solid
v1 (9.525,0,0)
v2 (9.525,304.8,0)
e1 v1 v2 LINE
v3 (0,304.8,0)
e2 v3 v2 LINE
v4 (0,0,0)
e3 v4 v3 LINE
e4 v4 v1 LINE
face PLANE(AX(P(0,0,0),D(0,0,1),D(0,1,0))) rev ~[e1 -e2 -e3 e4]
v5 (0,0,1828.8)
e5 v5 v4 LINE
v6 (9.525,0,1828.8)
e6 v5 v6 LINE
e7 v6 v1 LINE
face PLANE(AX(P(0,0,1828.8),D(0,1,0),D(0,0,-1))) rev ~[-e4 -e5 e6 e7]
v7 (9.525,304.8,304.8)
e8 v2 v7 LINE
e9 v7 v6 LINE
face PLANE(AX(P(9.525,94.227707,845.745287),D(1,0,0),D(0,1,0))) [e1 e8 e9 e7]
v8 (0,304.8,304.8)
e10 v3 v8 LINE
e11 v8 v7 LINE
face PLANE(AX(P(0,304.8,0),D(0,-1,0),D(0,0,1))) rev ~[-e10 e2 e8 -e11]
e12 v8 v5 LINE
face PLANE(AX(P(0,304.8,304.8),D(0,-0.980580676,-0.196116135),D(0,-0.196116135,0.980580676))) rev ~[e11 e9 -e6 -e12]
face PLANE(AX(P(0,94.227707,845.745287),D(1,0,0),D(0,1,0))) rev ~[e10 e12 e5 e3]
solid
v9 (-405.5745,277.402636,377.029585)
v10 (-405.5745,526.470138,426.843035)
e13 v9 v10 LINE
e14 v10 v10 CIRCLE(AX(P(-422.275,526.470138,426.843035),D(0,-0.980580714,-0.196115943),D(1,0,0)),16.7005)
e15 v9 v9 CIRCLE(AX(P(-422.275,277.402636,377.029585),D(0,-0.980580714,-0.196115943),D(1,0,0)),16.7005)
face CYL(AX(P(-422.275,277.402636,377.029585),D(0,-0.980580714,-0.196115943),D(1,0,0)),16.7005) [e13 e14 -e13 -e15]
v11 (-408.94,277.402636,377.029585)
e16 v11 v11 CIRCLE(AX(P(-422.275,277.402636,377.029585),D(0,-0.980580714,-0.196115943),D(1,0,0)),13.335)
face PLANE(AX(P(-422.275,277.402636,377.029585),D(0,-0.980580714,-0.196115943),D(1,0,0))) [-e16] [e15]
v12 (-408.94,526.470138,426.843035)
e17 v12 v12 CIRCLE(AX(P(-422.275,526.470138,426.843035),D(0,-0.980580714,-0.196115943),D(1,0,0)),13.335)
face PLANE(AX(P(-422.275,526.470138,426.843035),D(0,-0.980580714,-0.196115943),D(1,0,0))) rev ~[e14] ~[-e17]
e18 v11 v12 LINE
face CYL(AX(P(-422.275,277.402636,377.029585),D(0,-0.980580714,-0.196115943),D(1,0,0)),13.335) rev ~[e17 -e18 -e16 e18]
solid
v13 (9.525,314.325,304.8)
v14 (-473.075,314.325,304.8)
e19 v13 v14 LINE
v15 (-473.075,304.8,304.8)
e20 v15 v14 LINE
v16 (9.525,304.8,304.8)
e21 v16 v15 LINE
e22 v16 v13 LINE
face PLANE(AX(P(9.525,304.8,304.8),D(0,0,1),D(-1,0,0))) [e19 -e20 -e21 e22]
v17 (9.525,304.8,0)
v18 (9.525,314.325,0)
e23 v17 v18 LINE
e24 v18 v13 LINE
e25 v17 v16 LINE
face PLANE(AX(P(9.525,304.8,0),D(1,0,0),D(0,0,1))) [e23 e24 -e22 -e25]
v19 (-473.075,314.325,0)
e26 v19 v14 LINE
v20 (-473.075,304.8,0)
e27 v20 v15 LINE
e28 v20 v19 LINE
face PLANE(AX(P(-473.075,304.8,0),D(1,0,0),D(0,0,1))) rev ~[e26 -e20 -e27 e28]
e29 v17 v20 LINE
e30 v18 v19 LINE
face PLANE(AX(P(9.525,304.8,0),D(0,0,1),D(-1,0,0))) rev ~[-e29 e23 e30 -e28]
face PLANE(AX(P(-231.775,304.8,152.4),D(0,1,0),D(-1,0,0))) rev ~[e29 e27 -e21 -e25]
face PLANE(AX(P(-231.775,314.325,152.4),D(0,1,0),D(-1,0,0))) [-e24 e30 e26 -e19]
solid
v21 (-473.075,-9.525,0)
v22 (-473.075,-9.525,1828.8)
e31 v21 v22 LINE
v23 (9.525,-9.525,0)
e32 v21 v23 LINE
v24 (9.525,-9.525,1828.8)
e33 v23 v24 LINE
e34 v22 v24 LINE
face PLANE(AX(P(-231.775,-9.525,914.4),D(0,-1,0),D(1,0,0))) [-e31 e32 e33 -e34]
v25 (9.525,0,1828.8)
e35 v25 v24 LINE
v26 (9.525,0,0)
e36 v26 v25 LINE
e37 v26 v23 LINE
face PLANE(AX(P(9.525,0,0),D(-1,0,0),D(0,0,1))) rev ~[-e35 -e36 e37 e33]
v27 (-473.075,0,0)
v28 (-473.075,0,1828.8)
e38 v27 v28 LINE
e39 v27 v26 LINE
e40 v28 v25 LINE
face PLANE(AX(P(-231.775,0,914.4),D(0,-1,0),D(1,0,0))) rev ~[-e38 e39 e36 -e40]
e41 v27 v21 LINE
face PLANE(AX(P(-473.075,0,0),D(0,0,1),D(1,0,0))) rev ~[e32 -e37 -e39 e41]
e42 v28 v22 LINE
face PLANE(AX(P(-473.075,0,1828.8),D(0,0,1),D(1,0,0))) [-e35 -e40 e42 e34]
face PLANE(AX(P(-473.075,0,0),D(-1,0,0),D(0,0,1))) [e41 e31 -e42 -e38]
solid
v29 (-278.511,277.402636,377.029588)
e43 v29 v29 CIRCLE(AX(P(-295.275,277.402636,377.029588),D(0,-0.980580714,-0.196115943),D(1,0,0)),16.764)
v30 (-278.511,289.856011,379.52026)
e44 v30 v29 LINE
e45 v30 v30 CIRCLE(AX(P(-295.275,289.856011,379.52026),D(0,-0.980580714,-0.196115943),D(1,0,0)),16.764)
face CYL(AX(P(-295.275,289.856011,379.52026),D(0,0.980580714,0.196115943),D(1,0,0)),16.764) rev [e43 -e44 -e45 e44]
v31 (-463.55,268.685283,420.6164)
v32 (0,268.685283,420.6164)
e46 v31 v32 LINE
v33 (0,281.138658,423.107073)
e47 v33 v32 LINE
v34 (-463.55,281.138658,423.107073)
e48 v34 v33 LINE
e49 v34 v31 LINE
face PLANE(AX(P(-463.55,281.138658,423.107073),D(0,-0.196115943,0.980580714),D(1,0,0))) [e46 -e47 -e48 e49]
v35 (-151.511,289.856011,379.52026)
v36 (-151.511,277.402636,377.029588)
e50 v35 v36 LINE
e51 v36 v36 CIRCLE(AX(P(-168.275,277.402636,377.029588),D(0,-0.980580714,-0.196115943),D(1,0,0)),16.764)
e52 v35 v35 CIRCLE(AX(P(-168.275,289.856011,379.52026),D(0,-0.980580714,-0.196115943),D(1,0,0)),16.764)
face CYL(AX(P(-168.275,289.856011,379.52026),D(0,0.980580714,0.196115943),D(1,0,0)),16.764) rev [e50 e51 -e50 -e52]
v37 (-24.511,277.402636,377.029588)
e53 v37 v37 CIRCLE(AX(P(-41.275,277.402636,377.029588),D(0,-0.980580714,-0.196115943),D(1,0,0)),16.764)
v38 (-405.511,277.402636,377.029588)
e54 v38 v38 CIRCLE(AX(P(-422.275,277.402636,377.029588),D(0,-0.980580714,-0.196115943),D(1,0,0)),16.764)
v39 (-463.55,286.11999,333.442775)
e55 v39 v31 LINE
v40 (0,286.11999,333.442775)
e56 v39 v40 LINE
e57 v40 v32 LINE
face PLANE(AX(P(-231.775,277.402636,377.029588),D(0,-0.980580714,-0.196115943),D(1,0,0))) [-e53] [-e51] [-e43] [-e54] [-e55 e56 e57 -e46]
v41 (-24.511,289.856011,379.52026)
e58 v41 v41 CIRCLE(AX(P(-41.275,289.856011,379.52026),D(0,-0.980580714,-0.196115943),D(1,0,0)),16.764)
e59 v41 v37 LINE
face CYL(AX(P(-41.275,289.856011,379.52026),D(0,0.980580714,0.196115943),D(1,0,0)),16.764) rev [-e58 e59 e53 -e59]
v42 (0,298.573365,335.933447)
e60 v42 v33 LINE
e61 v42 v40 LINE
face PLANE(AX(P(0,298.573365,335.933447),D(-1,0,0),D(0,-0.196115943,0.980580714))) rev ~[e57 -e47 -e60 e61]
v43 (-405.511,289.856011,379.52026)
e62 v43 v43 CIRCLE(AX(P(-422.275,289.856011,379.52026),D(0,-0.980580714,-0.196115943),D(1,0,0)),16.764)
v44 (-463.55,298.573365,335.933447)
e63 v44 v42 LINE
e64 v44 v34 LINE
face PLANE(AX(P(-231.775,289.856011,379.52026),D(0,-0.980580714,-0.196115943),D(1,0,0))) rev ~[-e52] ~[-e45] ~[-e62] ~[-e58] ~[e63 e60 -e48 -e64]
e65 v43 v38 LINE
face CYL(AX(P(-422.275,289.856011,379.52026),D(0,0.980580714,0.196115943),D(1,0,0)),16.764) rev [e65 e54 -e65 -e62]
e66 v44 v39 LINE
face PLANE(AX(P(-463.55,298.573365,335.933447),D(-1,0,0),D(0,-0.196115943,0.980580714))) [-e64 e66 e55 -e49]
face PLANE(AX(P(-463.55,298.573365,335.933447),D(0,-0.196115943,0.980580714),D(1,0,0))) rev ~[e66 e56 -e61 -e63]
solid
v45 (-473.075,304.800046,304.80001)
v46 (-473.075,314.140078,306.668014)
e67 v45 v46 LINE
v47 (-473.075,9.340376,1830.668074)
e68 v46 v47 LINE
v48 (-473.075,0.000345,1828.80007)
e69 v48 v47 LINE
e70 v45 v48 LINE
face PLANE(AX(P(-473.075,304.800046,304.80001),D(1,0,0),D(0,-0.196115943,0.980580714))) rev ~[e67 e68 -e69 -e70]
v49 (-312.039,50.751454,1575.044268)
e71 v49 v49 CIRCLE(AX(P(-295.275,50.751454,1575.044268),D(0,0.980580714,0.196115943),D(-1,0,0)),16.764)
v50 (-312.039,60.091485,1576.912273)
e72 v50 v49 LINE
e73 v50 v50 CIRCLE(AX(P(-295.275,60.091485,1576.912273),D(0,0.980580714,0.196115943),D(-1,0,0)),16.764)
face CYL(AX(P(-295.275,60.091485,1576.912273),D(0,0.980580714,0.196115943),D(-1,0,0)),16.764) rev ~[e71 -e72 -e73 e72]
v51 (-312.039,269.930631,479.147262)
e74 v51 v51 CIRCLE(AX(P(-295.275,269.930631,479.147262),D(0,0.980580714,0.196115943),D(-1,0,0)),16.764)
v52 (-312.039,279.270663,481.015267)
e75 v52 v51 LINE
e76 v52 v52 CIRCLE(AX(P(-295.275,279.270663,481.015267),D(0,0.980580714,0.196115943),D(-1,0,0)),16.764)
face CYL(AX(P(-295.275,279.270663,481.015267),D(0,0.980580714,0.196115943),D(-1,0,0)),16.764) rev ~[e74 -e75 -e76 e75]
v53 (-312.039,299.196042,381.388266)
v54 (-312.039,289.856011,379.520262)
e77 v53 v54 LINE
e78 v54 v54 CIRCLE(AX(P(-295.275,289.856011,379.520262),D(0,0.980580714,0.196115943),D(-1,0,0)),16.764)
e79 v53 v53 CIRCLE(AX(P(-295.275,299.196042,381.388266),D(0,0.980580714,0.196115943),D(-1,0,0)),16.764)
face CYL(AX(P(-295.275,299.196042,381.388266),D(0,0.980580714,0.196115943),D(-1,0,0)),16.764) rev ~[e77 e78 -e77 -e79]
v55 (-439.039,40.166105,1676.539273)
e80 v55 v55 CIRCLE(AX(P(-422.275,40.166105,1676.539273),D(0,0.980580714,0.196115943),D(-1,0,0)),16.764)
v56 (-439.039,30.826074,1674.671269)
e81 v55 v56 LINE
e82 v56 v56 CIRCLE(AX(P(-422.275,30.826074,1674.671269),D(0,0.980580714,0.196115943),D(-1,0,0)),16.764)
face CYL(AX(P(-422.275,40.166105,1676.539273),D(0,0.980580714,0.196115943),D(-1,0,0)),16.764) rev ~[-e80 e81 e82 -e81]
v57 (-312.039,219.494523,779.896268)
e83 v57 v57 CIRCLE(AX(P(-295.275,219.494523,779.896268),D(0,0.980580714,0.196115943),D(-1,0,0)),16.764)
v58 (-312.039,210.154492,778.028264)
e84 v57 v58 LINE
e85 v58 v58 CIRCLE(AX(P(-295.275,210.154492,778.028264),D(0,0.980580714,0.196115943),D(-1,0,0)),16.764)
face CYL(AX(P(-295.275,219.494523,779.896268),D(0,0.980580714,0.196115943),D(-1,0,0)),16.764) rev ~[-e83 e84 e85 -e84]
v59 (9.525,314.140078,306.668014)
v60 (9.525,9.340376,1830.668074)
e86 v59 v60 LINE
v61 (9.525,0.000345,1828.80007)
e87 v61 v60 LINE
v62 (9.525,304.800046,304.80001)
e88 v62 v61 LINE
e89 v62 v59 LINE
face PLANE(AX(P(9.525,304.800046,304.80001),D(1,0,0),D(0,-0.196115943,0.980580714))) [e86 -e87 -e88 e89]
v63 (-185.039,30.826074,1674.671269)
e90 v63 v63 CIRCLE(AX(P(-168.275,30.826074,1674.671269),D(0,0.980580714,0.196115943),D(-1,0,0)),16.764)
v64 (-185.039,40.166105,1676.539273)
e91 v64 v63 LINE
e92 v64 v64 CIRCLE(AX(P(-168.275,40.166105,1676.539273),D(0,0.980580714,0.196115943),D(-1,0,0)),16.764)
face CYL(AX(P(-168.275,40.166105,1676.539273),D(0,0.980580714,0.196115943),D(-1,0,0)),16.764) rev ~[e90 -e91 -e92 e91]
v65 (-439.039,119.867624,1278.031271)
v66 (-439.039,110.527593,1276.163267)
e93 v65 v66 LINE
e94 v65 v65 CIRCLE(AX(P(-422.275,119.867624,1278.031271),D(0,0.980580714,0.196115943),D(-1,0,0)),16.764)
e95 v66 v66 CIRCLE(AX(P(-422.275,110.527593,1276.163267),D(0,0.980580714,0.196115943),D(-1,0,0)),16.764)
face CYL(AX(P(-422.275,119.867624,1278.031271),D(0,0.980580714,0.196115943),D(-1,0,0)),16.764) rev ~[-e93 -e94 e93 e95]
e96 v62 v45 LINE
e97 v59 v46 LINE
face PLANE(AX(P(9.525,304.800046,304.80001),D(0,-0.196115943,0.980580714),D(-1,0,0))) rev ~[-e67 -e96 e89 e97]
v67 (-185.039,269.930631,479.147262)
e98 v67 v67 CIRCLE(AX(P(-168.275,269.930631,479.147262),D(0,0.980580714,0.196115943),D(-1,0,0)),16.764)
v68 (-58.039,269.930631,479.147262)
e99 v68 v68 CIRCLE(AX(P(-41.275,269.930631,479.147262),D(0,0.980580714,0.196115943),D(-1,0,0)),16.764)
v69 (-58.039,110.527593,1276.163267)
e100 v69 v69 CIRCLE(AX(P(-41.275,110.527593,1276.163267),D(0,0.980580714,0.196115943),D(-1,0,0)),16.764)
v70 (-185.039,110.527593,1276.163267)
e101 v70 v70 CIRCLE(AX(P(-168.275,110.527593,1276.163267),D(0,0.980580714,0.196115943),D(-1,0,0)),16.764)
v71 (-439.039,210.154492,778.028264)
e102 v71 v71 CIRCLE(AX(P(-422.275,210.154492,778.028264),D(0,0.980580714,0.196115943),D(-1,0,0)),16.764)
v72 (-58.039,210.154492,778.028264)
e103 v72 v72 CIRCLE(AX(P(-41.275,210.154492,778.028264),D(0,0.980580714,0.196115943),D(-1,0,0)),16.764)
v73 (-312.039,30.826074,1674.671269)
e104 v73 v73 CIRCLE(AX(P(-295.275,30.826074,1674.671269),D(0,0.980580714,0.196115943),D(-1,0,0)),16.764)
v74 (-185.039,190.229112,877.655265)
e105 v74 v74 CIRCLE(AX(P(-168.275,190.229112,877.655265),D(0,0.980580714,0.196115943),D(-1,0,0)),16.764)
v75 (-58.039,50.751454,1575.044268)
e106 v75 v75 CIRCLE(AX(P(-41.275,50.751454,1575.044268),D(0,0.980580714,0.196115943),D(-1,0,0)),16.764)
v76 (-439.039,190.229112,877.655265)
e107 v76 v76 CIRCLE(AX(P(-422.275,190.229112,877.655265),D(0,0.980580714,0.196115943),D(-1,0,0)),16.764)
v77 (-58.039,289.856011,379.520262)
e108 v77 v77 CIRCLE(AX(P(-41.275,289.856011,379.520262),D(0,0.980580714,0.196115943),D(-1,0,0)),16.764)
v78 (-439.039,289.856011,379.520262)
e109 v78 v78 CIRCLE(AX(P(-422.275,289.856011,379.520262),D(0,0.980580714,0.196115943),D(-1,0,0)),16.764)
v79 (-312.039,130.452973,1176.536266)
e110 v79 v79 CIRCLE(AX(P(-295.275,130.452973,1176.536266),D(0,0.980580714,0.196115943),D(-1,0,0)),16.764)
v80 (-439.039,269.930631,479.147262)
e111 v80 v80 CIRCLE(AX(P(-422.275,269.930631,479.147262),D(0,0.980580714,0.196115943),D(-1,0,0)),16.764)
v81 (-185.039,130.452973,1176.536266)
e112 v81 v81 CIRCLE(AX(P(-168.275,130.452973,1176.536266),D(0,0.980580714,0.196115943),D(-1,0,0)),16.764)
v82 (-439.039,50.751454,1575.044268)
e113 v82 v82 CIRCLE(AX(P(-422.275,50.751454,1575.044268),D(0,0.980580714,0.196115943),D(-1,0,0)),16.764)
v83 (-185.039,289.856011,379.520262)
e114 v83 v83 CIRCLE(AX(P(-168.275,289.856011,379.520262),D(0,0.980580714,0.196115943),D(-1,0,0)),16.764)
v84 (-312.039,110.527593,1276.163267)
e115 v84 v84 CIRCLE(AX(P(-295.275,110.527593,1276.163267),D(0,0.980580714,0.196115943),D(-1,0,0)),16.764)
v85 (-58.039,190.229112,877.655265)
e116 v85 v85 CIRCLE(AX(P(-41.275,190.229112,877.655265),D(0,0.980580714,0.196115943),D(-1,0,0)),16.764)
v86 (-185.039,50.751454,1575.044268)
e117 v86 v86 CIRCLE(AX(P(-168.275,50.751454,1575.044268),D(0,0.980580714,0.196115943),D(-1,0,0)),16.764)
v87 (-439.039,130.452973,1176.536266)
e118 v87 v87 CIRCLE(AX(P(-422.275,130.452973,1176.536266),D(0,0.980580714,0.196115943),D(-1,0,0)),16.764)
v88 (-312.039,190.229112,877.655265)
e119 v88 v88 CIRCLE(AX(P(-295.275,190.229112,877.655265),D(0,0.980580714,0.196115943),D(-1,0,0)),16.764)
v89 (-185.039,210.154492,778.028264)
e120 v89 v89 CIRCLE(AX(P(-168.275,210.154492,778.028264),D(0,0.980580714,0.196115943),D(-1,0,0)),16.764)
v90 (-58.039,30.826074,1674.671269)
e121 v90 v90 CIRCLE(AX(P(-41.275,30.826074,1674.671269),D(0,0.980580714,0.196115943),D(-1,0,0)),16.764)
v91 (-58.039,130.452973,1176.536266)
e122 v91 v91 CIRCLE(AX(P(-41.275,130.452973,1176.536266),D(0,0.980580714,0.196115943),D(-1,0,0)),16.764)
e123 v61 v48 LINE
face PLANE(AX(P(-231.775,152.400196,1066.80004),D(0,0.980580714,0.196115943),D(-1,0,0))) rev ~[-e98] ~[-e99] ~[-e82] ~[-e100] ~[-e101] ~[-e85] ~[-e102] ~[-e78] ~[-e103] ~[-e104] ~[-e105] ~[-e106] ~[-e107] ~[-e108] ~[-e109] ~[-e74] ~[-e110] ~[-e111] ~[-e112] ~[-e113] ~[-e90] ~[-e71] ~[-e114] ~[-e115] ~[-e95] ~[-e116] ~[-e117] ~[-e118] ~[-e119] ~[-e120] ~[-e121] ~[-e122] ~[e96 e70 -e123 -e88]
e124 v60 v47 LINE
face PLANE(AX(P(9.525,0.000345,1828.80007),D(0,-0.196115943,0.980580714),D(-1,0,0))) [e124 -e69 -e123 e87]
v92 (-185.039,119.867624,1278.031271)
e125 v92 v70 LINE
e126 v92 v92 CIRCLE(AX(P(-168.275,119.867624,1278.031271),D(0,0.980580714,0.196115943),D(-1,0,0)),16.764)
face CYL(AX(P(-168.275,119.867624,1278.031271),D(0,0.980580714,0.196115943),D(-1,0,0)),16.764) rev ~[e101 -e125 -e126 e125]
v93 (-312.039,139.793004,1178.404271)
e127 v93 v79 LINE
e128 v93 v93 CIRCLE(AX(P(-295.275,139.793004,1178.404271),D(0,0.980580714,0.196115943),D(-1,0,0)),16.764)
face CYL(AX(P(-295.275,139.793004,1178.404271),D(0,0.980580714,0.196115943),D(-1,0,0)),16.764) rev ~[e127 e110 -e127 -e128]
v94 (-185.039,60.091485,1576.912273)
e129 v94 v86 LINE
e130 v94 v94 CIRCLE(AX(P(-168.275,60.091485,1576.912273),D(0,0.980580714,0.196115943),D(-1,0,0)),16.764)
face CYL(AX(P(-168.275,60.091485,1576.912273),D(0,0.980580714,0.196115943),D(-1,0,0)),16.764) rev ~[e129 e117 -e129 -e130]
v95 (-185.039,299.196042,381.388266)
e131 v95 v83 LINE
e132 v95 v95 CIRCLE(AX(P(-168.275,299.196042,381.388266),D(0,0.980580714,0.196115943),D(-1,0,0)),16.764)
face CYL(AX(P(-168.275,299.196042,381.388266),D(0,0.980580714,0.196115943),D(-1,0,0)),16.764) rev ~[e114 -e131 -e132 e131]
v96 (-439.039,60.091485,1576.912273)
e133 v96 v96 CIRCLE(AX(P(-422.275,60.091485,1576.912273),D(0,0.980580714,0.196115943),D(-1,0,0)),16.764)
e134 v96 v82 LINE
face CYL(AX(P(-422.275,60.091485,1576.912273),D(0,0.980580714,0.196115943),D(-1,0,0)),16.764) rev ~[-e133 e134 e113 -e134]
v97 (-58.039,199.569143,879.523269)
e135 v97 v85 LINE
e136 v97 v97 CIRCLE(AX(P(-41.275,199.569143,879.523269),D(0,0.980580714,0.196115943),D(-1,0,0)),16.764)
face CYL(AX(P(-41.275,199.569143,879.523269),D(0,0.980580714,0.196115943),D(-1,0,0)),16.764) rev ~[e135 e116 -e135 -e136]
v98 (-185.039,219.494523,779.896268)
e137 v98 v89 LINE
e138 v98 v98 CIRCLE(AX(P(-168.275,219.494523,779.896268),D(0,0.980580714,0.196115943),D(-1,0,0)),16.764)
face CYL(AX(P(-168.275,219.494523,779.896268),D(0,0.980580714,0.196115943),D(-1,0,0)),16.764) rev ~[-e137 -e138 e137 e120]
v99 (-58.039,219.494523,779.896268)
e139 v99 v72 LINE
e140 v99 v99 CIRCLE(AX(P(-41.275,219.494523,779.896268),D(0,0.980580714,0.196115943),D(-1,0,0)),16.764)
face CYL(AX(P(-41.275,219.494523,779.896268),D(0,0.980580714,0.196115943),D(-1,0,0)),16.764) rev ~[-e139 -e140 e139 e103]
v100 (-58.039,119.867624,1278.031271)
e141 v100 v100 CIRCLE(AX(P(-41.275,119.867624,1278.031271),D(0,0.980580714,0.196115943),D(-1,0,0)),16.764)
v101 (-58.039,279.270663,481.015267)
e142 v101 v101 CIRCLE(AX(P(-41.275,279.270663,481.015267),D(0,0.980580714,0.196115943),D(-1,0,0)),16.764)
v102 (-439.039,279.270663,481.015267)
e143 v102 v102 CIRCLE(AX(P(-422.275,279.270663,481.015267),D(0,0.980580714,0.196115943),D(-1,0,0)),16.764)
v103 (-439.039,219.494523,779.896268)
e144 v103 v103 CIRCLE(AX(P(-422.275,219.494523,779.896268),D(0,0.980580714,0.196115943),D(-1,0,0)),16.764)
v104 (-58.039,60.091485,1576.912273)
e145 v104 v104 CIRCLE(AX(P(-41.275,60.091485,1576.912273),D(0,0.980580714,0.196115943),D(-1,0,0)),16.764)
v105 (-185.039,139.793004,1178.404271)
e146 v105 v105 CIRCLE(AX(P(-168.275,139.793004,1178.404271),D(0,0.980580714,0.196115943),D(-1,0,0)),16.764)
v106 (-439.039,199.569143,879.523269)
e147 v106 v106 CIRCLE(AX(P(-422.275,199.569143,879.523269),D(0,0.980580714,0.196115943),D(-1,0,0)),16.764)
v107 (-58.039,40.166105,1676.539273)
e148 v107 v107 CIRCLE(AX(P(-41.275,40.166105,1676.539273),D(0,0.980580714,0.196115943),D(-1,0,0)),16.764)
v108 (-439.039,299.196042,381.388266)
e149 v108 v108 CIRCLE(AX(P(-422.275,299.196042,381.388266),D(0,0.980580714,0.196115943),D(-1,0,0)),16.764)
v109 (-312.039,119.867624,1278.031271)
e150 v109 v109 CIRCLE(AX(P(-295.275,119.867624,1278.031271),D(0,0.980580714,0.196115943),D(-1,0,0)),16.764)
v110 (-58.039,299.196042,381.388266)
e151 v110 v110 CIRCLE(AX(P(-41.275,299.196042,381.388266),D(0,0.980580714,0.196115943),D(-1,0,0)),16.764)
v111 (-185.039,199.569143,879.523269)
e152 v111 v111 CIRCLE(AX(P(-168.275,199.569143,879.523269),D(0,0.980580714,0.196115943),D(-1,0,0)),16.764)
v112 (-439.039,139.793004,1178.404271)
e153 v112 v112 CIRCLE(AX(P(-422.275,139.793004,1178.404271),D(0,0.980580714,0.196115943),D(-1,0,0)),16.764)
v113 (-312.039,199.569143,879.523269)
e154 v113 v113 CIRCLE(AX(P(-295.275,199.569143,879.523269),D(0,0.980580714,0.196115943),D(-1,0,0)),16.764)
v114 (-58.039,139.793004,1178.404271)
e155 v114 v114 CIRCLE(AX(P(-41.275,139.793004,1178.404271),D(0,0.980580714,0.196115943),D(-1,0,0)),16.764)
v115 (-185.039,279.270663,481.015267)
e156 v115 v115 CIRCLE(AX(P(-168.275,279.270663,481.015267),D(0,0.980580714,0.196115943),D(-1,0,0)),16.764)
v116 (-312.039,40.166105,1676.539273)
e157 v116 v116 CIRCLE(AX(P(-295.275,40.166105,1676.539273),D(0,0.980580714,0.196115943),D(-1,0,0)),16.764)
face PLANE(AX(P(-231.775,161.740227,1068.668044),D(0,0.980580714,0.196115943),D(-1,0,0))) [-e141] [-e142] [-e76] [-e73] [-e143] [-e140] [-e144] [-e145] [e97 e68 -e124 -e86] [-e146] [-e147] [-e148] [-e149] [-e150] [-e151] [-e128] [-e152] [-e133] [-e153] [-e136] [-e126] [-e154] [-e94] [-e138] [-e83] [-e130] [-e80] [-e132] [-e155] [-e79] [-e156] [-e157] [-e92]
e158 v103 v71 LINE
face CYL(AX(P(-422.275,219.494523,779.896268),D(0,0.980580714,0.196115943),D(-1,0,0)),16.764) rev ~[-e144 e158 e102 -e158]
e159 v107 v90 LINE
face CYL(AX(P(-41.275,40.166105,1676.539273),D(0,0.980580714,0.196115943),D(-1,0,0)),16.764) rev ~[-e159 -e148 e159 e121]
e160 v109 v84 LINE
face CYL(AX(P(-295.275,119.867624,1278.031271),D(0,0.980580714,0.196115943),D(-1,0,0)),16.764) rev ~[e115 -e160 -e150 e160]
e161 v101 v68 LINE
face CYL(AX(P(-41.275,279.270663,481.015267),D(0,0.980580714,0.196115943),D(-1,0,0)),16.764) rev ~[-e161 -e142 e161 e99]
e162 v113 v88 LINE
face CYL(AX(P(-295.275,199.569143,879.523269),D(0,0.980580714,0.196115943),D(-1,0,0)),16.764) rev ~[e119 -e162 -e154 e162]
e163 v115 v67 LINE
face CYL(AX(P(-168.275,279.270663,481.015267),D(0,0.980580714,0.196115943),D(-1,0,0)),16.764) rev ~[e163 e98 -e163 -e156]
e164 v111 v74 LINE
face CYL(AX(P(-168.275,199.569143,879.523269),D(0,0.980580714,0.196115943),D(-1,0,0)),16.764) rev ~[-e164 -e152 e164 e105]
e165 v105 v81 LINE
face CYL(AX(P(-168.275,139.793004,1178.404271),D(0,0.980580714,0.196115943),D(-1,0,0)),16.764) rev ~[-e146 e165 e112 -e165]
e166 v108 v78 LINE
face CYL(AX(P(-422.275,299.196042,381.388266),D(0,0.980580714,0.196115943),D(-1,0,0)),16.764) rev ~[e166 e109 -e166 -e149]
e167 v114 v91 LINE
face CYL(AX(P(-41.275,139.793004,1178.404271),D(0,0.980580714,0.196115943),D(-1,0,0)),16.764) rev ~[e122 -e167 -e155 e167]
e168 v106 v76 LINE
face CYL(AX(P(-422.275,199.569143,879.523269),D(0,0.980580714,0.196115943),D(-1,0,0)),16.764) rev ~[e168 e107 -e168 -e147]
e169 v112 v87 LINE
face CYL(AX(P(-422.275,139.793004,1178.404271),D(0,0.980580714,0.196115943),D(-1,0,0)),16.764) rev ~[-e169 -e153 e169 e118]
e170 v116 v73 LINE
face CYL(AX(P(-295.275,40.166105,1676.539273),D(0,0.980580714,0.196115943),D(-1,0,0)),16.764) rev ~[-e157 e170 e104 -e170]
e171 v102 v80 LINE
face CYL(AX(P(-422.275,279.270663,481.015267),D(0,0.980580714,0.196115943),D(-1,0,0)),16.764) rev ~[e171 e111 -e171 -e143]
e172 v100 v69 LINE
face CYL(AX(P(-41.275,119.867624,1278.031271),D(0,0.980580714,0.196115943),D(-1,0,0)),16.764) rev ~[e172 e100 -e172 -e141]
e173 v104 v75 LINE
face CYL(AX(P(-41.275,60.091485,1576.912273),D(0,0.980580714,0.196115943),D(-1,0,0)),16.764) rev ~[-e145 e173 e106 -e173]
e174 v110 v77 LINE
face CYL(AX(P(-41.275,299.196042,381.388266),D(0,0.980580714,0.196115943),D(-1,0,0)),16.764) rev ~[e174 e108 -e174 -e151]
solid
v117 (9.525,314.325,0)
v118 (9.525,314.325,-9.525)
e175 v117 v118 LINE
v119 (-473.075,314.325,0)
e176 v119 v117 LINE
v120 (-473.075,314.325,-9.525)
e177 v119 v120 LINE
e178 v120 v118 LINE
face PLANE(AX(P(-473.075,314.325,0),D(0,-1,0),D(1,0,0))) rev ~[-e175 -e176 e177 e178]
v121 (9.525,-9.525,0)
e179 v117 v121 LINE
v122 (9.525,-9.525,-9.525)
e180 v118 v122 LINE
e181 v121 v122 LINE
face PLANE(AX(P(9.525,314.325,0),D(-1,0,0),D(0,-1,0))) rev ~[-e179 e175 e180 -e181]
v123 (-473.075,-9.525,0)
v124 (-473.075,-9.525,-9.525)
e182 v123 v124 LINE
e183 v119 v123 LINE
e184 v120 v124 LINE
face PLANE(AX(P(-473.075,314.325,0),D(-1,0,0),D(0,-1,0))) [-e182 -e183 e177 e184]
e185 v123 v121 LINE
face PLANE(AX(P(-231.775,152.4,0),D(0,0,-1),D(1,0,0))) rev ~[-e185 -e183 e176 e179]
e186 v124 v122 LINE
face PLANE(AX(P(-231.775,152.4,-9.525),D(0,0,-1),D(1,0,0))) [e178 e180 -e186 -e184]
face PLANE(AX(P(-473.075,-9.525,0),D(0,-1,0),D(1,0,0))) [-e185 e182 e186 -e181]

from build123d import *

# Parameters (mm, degrees)
F1_DEPTH  = 9.525
F2_W      = 482.6
F2_H      = 304.8
F3_DEPTH  = 9.525
F4_W      = 482.6
F4_H      = 1554.181148
F5_DEPTH  = 9.525
F6_W      = 482.6
F6_H      = 1828.8
F7_DEPTH  = 9.525
F8_W      = 482.6
F8_H      = 323.85
F9_DEPTH  = 9.525
F10_R     = 16.764
F11_DEPTH = 12.7
F12_W     = 463.55
F12_H     = 88.9
F12_R     = 16.764
F13_DEPTH = 12.7
F14_R     = 16.7005
F14_R_2   = 13.335
F15_DEPTH = 254


with BuildPart() as f1:
    # F0 (on Right) → F1 (new body)
    with BuildSketch(Plane.YZ):
        Polygon((0, 1828.8), (0, 0), (304.8, 0), (304.8, 304.8), align=None)
    extrude(amount=F1_DEPTH)


with BuildPart() as f3:
    # F2 (on face) → F3 (new body)
    with BuildSketch(Plane(origin=(0, 304.8, 0), x_dir=(-1, 0, 0), z_dir=(0, 1, 0))):
        with Locations((231.775, 152.4)):
            Rectangle(F2_W, F2_H)
    extrude(amount=F3_DEPTH)


with BuildPart() as f5:
    # F4 (on face) → F5 (new body)
    with BuildSketch(Plane(origin=(0, 351.692308, 70.338462), x_dir=(-1, 0, 0), z_dir=(0, 0.980581, 0.196116))):
        with Locations((231.775, 1016.195366)):
            Rectangle(F4_W, F4_H)
    extrude(amount=F5_DEPTH)

    # F10 (on face) → F11 (cut)
    with BuildSketch(Plane(origin=(0, 361.032339, 72.206468), x_dir=(-1, 0, 0), z_dir=(0, 0.980581, 0.196116))):
        with Locations((41.275, 315.304792)):
            Circle(F10_R)
        with Locations((41.275, 416.904792)):
            Circle(F10_R)
        with Locations((168.275, 315.304792)):
            Circle(F10_R)
        with Locations((168.275, 416.904792)):
            Circle(F10_R)
        with Locations((295.275, 315.304792)):
            Circle(F10_R)
        with Locations((295.275, 416.904792)):
            Circle(F10_R)
        with Locations((422.275, 315.304792)):
            Circle(F10_R)
        with Locations((422.275, 416.904792)):
            Circle(F10_R)
        with Locations((422.275, 721.704792)):
            Circle(F10_R)
        with Locations((422.275, 823.304792)):
            Circle(F10_R)
        with Locations((168.275, 721.704792)):
            Circle(F10_R)
        with Locations((168.275, 823.304792)):
            Circle(F10_R)
        with Locations((295.275, 721.704792)):
            Circle(F10_R)
        with Locations((41.275, 823.304792)):
            Circle(F10_R)
        with Locations((41.275, 721.704792)):
            Circle(F10_R)
        with Locations((295.275, 823.304792)):
            Circle(F10_R)
        with Locations((422.275, 1128.104792)):
            Circle(F10_R)
        with Locations((422.275, 1229.704792)):
            Circle(F10_R)
        with Locations((168.275, 1128.104792)):
            Circle(F10_R)
        with Locations((168.275, 1229.704792)):
            Circle(F10_R)
        with Locations((295.275, 1128.104792)):
            Circle(F10_R)
        with Locations((41.275, 1229.704792)):
            Circle(F10_R)
        with Locations((41.275, 1128.104792)):
            Circle(F10_R)
        with Locations((295.275, 1229.704792)):
            Circle(F10_R)
        with Locations((422.275, 1534.504792)):
            Circle(F10_R)
        with Locations((422.275, 1636.104792)):
            Circle(F10_R)
        with Locations((168.275, 1534.504792)):
            Circle(F10_R)
        with Locations((168.275, 1636.104792)):
            Circle(F10_R)
        with Locations((295.275, 1534.504792)):
            Circle(F10_R)
        with Locations((41.275, 1636.104792)):
            Circle(F10_R)
        with Locations((41.275, 1534.504792)):
            Circle(F10_R)
        with Locations((295.275, 1636.104792)):
            Circle(F10_R)
    extrude(amount=-F11_DEPTH, mode=Mode.SUBTRACT)


with BuildPart() as f7:
    # F6 (on face) → F7 (new body)
    with BuildSketch(Plane.XZ):
        with Locations((-231.775, 914.4)):
            Rectangle(F6_W, F6_H)
    extrude(amount=F7_DEPTH)


with BuildPart() as f9:
    # F8 (on face) → F9 (new body)
    with BuildSketch(Plane(origin=(0, 0, 0), x_dir=(1, 0, 0), z_dir=(0, 0, -1))):
        with Locations((-231.775, -152.4)):
            Rectangle(F8_W, F8_H)
    extrude(amount=F9_DEPTH)


with BuildPart() as f13:
    # F12 (on face) → F13 (new body)
    with BuildSketch(Plane(origin=(0, 351.692308, 70.338462), x_dir=(1, 0, 0), z_dir=(0, -0.980581, -0.196116))):
        with Locations((-231.775, 315.304792)):
            Rectangle(F12_W, F12_H)
        with Locations((-422.275, 315.304792)):
            Circle(F12_R, mode=Mode.SUBTRACT)
        with Locations((-295.275, 315.304792)):
            Circle(F12_R, mode=Mode.SUBTRACT)
        with Locations((-168.275, 315.304792)):
            Circle(F12_R, mode=Mode.SUBTRACT)
        with Locations((-41.275, 315.304792)):
            Circle(F12_R, mode=Mode.SUBTRACT)
    extrude(amount=F13_DEPTH)


with BuildPart() as f15:
    # F14 (on face) → F15 (new body)
    with BuildSketch(Plane(origin=(0, 339.238933, 67.847787), x_dir=(1, 0, 0), z_dir=(0, -0.980581, -0.196116))):
        with Locations((-422.275, 315.304792)):
            Circle(F14_R)
        with Locations((-422.275, 315.304792)):
            Circle(F14_R_2, mode=Mode.SUBTRACT)
    extrude(amount=-F15_DEPTH)


solid = Compound([f1.part, f3.part, f5.part, f7.part, f9.part, f13.part, f15.part])
